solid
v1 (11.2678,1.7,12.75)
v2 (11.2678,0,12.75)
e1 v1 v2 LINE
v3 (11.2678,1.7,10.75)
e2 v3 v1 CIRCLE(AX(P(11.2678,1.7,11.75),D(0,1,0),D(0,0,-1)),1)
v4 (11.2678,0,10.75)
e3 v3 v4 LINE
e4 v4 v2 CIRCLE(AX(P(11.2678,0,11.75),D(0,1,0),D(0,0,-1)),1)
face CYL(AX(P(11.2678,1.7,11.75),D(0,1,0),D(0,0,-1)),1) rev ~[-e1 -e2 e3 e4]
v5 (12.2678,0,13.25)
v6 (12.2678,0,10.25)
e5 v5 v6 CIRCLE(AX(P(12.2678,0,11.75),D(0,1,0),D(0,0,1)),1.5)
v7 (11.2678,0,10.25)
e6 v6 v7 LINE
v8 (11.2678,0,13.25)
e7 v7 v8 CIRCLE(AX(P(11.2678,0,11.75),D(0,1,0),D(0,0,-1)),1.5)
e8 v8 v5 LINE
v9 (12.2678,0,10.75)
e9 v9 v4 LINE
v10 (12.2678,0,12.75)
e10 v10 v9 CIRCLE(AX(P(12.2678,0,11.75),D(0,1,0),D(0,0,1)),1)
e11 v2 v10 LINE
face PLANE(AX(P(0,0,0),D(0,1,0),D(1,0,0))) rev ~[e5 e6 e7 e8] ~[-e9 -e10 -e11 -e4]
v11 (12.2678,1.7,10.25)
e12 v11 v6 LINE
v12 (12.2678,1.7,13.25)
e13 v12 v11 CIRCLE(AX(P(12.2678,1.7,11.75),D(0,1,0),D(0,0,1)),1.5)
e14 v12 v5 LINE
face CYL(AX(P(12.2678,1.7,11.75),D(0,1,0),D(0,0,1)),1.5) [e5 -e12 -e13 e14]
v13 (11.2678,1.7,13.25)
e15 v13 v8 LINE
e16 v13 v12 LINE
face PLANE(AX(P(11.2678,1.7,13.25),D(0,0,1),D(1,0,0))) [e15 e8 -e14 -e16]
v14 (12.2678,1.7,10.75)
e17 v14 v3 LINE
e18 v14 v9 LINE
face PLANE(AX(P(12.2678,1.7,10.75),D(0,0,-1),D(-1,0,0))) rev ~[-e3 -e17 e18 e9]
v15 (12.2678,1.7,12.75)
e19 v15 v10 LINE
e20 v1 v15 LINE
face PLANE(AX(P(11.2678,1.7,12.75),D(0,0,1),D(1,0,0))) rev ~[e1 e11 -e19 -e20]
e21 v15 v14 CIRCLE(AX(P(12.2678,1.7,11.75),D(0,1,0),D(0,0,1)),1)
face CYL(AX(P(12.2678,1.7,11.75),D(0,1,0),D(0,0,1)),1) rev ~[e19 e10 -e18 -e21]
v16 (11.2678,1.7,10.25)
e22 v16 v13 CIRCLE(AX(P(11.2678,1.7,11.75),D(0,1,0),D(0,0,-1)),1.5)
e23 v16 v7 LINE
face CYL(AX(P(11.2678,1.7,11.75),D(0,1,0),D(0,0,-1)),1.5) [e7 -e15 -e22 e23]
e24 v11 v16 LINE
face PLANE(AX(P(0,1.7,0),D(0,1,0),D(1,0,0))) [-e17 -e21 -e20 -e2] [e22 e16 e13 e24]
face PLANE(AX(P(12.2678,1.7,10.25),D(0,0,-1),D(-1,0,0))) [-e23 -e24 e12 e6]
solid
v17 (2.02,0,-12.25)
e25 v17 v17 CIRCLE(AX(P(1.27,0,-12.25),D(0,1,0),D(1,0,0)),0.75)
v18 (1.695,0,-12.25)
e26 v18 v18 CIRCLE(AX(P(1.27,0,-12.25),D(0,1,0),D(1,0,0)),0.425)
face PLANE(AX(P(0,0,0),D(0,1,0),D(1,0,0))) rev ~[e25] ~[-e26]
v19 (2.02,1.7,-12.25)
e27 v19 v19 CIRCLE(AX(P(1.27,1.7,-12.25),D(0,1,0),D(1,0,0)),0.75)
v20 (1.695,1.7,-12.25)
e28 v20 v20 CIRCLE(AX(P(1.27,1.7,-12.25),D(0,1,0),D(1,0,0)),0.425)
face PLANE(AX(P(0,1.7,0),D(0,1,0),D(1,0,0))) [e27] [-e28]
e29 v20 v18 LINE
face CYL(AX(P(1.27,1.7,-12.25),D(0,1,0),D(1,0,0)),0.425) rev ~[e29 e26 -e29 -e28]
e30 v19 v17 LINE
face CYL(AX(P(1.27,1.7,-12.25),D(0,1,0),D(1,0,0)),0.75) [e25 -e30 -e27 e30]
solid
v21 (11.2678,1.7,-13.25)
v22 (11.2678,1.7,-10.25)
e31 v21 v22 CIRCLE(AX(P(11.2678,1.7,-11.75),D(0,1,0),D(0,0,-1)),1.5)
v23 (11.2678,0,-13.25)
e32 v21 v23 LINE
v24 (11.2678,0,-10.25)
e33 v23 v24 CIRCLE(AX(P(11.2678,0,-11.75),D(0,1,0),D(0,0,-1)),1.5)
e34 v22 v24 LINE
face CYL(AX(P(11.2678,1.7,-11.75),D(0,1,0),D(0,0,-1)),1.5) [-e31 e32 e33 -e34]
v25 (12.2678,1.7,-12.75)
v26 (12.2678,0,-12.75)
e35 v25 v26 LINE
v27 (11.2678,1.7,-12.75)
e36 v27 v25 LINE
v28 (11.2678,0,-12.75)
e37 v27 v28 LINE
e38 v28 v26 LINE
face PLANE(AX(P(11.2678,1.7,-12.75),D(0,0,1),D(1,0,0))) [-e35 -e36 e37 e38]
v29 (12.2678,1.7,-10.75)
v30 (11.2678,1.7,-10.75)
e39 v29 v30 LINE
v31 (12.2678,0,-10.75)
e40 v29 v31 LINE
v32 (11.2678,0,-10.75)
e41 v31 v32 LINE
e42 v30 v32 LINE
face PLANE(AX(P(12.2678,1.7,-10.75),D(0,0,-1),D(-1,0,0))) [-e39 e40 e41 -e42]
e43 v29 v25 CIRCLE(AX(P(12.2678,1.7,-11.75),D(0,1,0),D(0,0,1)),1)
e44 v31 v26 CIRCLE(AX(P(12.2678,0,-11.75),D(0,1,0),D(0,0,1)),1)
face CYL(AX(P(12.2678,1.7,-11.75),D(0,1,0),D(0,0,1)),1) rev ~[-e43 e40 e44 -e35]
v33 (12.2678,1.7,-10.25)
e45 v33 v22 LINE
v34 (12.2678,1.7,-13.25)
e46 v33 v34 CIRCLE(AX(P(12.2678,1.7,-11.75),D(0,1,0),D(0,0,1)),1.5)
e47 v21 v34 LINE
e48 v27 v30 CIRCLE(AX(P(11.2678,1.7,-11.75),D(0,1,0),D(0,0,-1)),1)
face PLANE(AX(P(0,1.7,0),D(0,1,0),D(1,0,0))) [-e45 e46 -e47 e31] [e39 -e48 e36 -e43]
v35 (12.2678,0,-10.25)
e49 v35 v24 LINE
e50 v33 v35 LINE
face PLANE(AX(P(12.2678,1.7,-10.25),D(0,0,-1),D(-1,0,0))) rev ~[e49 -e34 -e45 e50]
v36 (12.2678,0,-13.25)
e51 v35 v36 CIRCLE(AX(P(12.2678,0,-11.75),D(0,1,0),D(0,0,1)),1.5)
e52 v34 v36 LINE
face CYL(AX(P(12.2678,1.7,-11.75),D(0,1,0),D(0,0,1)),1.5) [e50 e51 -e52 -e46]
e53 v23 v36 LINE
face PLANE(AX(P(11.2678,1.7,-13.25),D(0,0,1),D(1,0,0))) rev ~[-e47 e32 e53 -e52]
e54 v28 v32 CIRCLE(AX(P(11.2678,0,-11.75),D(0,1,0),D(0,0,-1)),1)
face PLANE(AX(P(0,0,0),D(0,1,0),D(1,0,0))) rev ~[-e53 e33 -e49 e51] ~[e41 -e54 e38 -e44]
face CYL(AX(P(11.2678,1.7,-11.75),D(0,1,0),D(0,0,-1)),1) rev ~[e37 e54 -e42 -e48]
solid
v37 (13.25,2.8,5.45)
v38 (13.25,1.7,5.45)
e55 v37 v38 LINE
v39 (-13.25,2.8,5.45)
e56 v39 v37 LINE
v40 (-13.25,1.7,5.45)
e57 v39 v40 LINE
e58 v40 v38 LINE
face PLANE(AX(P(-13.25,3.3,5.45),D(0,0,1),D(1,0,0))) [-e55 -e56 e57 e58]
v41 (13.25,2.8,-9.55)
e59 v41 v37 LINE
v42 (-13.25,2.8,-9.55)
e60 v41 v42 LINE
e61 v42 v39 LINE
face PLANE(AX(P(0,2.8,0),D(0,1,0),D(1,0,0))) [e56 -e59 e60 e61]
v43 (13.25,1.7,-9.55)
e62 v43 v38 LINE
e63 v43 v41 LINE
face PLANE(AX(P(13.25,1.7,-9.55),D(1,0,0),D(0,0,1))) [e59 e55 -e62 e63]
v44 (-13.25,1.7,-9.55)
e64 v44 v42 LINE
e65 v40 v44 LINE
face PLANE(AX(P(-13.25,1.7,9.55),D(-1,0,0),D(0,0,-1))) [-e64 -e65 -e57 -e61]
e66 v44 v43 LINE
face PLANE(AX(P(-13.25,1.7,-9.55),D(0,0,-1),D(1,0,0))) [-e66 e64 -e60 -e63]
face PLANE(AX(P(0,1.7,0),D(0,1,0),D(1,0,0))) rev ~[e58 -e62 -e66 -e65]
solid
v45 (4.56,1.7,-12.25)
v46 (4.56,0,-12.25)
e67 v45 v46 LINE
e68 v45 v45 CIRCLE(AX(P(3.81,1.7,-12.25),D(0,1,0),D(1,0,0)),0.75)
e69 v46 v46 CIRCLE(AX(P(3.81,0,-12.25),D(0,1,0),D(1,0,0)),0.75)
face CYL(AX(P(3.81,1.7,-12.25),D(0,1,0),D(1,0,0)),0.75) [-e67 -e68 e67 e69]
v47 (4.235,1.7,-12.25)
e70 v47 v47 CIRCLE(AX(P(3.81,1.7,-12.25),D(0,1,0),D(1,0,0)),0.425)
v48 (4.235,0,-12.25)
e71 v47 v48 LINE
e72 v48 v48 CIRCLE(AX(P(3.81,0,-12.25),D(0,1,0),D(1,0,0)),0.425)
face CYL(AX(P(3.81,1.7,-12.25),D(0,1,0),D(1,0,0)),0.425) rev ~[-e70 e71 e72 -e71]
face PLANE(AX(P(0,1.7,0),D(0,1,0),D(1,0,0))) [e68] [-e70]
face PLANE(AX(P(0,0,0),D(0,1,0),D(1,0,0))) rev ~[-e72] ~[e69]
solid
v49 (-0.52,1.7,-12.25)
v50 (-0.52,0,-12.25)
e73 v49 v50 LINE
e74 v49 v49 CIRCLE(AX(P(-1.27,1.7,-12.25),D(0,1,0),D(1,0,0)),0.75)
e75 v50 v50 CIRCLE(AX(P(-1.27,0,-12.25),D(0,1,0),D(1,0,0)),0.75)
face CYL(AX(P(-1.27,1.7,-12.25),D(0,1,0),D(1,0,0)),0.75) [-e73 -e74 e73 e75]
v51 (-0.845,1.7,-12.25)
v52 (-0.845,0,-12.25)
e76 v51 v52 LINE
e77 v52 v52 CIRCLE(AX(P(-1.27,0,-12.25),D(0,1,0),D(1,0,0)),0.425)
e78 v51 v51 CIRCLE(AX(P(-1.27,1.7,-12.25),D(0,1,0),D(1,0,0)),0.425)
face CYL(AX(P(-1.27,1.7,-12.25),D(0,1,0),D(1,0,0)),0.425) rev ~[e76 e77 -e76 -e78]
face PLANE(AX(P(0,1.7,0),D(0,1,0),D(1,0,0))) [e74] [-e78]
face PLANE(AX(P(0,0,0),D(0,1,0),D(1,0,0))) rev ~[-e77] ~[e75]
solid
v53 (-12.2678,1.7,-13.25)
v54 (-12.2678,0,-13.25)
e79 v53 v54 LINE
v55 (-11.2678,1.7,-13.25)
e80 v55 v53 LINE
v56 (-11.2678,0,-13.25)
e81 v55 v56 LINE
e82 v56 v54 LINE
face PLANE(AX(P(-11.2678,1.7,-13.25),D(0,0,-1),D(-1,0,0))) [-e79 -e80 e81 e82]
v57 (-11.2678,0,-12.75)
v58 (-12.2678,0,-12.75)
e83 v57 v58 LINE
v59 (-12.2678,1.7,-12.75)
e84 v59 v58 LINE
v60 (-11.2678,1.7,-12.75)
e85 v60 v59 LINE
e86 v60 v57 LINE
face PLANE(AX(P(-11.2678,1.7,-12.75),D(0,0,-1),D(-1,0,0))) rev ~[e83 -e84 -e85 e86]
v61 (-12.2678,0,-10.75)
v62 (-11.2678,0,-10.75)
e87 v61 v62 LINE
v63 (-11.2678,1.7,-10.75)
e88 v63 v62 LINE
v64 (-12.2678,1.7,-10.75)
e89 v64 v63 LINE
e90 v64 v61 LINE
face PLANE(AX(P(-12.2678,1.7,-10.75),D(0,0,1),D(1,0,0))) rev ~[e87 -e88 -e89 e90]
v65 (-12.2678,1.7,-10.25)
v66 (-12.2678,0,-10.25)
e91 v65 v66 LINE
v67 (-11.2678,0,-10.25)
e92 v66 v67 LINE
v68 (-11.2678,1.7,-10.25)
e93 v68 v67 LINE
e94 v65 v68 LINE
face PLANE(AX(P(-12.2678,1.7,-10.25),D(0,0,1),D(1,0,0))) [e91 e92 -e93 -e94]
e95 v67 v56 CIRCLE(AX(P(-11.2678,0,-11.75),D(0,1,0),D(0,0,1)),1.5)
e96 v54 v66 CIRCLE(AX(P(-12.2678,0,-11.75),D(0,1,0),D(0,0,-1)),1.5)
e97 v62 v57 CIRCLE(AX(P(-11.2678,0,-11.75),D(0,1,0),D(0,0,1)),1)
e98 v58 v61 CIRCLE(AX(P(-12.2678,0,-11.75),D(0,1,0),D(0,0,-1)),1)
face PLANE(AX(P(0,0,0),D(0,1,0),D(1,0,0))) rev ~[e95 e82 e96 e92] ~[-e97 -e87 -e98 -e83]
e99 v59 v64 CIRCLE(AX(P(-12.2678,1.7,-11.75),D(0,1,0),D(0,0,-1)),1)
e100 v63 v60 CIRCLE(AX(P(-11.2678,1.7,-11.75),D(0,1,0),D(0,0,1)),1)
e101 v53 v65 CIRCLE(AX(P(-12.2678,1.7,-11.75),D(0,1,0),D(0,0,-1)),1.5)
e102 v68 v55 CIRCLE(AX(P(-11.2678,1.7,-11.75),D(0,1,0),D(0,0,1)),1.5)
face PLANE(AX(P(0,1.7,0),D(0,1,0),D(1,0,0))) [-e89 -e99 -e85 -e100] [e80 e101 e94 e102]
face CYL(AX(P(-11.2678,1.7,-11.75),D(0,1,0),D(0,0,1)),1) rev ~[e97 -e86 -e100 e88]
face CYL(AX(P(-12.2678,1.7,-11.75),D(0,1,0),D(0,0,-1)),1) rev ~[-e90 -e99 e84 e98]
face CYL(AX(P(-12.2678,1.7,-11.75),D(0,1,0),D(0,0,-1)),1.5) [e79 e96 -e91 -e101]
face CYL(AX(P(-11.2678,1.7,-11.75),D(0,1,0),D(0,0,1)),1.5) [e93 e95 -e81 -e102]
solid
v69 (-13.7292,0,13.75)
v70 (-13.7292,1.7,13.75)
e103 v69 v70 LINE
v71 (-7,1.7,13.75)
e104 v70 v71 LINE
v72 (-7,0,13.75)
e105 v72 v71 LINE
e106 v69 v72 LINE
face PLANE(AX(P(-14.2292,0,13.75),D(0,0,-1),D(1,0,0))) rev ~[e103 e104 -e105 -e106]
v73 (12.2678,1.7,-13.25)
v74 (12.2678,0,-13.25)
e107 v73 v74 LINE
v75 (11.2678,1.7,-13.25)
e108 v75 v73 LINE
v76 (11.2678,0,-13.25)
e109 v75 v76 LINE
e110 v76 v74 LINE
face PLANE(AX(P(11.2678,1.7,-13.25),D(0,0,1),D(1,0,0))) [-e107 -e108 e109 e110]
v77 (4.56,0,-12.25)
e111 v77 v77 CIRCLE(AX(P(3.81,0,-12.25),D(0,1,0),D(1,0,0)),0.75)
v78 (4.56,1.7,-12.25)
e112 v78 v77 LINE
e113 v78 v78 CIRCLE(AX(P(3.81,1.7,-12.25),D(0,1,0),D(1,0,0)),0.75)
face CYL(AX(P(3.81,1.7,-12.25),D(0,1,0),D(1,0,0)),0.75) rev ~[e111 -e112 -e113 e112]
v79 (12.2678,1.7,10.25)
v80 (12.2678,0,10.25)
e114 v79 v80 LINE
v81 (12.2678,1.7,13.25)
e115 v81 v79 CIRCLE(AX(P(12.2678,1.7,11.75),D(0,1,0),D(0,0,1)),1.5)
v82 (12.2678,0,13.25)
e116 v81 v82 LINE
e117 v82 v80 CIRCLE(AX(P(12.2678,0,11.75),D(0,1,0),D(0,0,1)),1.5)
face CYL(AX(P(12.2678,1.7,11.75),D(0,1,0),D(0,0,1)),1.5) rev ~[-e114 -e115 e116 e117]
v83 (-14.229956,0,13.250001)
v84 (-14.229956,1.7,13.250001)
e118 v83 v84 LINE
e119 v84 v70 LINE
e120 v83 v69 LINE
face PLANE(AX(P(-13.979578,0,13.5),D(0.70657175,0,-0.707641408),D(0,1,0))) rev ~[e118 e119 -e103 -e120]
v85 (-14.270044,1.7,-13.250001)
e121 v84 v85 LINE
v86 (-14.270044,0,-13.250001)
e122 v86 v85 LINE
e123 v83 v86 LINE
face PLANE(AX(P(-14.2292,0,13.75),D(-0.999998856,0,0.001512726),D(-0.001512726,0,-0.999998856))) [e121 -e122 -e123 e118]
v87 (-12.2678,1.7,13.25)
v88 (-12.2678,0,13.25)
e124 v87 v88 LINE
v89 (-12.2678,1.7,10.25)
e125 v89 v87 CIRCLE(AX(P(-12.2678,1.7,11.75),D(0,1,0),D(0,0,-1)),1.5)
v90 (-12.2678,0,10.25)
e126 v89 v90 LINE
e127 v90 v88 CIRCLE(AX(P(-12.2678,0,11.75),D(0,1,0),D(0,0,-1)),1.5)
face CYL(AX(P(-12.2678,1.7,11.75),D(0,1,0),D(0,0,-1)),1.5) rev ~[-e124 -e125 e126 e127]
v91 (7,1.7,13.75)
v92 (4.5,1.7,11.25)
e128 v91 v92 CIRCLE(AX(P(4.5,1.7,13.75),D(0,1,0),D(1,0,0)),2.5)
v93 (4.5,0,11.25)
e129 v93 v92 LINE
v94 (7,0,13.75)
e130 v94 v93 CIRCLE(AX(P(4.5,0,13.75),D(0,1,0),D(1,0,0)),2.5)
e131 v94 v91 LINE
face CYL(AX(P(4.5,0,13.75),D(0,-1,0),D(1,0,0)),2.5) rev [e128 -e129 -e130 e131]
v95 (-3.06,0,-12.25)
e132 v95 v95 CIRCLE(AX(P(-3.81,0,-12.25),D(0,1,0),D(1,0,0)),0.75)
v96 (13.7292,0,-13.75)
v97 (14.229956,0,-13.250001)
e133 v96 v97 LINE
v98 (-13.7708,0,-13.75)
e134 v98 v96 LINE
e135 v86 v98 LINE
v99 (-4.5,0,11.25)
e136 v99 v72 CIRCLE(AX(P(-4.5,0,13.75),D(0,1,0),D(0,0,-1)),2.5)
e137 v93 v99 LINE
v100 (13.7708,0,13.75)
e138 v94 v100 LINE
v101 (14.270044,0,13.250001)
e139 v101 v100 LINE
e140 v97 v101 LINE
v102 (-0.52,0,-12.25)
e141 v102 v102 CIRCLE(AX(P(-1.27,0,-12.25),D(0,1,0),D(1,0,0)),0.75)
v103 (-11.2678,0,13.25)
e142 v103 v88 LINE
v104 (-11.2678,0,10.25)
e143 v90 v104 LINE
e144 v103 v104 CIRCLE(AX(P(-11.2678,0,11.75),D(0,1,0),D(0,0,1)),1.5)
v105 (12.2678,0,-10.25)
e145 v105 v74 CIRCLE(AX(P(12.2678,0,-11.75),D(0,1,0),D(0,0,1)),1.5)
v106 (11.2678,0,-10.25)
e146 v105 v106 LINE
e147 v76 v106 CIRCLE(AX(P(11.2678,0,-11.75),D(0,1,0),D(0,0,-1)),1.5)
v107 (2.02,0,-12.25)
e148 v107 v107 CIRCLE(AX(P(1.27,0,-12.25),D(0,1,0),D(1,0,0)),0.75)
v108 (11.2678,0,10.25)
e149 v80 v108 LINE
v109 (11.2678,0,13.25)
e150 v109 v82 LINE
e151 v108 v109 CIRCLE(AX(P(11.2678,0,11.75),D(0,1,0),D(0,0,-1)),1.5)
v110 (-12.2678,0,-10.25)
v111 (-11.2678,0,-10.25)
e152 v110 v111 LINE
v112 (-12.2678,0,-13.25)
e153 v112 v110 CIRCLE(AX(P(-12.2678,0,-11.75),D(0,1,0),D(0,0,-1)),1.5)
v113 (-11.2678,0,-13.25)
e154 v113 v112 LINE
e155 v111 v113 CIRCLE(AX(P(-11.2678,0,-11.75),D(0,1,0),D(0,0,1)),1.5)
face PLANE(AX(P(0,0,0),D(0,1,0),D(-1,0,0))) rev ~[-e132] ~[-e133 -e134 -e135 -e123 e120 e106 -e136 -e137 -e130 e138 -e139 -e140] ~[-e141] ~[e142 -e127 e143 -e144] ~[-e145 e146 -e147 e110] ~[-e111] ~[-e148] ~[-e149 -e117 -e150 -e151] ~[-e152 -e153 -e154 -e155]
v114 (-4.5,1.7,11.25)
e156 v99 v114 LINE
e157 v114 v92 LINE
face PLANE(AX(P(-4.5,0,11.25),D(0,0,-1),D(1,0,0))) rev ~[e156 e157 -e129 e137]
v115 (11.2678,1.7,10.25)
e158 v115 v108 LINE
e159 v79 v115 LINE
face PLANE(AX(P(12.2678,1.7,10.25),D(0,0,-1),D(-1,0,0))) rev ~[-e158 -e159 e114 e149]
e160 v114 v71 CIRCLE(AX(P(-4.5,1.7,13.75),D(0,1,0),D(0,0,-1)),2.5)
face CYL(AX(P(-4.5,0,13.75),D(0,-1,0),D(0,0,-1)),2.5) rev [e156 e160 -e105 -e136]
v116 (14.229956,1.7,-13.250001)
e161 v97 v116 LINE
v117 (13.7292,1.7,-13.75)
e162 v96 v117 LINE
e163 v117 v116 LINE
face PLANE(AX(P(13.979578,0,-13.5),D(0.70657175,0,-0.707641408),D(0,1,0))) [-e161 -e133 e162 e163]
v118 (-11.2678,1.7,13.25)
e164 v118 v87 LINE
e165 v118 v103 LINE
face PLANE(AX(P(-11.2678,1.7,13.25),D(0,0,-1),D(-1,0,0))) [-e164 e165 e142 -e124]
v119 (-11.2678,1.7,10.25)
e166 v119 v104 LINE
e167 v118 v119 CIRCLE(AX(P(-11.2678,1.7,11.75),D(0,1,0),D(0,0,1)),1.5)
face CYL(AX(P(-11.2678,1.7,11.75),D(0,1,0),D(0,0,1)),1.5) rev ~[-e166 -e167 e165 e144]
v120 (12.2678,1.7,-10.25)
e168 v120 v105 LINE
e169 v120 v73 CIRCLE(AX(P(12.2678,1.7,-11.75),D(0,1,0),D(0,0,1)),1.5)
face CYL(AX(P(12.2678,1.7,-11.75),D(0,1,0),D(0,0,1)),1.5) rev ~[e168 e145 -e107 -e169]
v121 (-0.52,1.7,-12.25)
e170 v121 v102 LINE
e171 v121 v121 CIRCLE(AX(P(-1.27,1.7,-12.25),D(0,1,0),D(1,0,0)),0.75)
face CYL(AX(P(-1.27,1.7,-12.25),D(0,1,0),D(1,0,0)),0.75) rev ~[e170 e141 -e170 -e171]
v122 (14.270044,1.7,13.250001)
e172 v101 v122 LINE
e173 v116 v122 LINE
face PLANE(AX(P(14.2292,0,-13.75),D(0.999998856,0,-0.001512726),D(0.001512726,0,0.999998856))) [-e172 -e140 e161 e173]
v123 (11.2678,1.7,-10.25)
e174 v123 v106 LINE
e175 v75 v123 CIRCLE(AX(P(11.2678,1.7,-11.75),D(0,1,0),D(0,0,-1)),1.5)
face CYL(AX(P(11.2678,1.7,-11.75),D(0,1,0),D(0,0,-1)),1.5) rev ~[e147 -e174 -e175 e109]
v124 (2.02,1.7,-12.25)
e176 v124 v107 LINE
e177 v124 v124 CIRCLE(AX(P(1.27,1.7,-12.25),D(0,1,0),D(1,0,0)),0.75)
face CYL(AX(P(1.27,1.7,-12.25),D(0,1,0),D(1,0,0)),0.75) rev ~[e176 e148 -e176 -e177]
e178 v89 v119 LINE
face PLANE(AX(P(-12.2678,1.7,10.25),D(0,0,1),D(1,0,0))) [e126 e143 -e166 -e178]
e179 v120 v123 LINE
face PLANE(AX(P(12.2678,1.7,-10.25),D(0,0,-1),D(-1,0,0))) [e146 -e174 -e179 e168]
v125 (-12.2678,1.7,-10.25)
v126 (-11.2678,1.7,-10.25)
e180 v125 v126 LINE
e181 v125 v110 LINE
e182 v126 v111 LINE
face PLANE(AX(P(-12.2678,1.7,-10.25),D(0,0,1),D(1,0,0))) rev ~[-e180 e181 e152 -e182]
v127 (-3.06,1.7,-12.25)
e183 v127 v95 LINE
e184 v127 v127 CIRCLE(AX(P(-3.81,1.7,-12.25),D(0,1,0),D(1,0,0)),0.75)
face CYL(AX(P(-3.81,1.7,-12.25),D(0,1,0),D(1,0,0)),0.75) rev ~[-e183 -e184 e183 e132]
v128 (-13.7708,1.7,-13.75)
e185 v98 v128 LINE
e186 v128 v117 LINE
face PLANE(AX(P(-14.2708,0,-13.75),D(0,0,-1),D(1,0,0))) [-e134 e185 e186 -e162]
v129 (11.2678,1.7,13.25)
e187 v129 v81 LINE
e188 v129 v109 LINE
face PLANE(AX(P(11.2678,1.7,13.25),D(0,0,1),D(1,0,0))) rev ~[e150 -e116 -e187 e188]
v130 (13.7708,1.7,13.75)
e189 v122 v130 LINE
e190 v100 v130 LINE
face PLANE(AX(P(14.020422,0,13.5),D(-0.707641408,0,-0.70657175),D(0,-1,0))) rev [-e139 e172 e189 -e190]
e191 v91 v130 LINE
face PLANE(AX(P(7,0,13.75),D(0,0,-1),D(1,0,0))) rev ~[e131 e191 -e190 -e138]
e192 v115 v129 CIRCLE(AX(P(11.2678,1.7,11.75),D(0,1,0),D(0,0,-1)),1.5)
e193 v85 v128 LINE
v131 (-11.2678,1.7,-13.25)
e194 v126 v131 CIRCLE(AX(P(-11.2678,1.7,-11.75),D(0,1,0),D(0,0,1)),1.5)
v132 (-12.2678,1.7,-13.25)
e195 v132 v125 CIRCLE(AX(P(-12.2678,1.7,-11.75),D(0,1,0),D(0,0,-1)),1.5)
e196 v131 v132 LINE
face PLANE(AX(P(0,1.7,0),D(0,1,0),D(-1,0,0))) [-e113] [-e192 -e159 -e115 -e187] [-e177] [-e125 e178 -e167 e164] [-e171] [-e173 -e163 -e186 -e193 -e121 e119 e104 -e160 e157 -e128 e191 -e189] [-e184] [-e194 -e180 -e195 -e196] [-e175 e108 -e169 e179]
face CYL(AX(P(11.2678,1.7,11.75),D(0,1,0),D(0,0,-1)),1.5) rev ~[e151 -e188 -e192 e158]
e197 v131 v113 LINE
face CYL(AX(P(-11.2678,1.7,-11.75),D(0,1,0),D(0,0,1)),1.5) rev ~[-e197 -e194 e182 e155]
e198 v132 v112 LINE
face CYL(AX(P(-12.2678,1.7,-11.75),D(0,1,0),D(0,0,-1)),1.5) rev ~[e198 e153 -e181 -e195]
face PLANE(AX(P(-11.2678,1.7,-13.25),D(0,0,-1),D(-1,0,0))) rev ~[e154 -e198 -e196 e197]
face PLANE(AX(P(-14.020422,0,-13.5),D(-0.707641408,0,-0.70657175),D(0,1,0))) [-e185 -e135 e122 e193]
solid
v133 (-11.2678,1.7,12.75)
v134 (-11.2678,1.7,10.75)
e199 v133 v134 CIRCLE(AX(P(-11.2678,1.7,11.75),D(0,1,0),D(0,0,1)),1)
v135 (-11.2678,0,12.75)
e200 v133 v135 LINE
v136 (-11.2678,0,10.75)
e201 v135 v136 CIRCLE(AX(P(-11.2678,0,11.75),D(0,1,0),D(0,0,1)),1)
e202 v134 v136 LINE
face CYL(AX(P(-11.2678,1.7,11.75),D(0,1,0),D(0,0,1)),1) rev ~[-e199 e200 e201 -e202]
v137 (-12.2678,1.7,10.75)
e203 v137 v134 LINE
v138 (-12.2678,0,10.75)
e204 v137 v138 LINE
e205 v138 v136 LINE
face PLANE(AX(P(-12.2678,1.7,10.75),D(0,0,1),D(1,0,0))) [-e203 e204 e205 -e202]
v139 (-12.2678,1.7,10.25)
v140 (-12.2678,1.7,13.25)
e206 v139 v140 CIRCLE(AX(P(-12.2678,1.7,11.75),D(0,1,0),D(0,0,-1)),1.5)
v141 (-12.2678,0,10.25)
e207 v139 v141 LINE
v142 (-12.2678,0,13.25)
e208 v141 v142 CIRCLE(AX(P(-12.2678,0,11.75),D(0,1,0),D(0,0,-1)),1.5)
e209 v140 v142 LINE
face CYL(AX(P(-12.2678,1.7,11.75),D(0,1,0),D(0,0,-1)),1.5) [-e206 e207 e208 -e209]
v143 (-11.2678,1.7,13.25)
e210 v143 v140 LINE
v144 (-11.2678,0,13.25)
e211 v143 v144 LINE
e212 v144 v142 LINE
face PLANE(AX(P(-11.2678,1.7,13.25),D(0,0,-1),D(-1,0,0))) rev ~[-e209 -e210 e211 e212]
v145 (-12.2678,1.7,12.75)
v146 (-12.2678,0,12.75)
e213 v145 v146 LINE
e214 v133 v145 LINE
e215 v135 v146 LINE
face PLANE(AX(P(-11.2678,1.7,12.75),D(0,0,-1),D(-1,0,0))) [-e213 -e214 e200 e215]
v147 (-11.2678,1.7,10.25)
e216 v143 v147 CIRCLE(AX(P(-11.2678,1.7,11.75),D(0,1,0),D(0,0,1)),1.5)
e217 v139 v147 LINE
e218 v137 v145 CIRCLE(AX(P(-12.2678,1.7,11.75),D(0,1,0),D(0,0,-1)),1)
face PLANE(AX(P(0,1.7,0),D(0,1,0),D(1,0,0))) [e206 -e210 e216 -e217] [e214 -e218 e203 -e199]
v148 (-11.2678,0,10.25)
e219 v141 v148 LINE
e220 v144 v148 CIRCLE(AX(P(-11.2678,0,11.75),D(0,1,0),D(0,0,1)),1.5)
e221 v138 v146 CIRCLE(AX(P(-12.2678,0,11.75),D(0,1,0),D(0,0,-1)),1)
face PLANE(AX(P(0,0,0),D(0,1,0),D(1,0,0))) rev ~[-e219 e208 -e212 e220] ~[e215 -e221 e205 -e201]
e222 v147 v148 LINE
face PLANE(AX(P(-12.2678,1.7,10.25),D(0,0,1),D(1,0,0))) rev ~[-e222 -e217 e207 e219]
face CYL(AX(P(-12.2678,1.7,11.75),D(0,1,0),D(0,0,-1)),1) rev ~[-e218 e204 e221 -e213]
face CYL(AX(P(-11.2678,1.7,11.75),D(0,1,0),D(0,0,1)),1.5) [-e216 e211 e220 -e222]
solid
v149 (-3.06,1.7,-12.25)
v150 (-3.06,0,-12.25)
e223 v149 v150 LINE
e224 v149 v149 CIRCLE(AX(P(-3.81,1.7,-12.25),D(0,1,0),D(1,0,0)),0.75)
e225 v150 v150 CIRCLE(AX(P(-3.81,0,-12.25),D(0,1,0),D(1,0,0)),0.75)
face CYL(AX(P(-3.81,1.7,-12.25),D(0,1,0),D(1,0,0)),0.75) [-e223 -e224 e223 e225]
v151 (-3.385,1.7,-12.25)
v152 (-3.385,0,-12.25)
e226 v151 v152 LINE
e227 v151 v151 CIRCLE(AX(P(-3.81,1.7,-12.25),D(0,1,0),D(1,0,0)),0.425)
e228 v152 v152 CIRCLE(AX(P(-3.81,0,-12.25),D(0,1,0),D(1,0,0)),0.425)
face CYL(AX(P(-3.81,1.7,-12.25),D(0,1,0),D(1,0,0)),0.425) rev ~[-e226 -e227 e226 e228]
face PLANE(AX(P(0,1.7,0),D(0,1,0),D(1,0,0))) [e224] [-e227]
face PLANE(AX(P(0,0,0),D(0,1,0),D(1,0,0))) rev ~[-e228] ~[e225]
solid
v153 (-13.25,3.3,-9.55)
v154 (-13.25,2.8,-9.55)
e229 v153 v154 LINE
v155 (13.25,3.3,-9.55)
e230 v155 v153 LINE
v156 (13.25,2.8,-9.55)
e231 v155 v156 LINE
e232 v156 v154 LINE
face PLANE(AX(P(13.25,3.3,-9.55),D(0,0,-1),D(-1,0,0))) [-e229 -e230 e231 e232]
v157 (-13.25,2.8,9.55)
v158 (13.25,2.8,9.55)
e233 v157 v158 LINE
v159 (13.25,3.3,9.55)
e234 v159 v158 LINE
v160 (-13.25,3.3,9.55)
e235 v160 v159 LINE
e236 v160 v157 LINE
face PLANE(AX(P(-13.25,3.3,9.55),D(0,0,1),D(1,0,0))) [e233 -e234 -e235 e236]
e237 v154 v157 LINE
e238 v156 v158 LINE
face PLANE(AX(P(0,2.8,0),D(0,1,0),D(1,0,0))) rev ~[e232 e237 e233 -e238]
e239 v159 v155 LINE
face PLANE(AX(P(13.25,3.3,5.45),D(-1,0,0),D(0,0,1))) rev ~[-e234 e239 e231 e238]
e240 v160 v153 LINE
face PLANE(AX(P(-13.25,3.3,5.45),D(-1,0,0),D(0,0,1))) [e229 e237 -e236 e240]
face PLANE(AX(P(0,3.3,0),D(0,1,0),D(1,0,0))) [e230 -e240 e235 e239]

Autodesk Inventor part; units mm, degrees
ref_plane "YZ Plane" through (0, 0, 0) normal (1, 0, 0) x (0, 1, 0)
ref_plane "XZ Plane" through (0, 0, 0) normal (0, 1, 0) x (-1, 0, 0)
ref_plane "XY Plane" through (0, 0, 0) normal (0, 0, 1) x (1, 0, 0)
sketch "Sketch1" plane through (0, 0, 0) normal (0, 1, 0) x (-1, 0, 0)
  line L0 (14.2292, 13.75) -> (14.2708, -13.75)
  line L1 (14.2708, -13.75) -> (-14.2292, -13.75)
  line L2 (-14.2292, -13.75) -> (-14.2708, 13.75)
  line L3 (-14.2708, 13.75) -> (14.2708, -13.75) construction
  line L4 (14.2292, 13.75) -> (-14.2292, -13.75) construction
  line L5 (14.2292, 13.75) -> (7, 13.75)
  line L6 (4.5, 11.25) -> (-4.5, 11.25)
  line L7 (-7, 13.75) -> (-14.2708, 13.75)
  arc A0 (-7, 13.75) -> (-4.5, 11.25) centre (-4.5, 13.75) ccw
  arc A1 (4.5, 11.25) -> (7, 13.75) centre (4.5, 13.75) ccw
  line L8 (0, 0) -> (0, -4.4345)
  line L9 (0, 11.25) -> (0, 7.5255)
  dimension "d0" = 28.5
  dimension "d1" = 27.5
  dimension "d2" = 2.5
  dimension "d3" = 14
extrude "Extrusion1" add sketch "Sketch1" along normal blind 1.7
chamfer "Chamfer1" distance 0.5 angle 45 4 edges at (14.2708, 0.85, 13.75) (-14.2292, 0.85, 13.75) (14.2292, 0.85, -13.75) (-14.2708, 0.85, -13.75)
sketch "Sketch2" plane through (0, 1.7, 0) normal (0, 1, 0) x (1, 0, 0)
  line L0 (-13.2678, 11.75) -> (-10.2678, 11.75) construction
  line L1 (-12.2678, 10.75) -> (-11.2678, 10.75)
  line L2 (-11.2678, 12.75) -> (-12.2678, 12.75)
  arc A0 (-12.2678, 12.75) -> (-12.2678, 10.75) centre (-12.2678, 11.75) ccw
  arc A1 (-11.2678, 10.75) -> (-11.2678, 12.75) centre (-11.2678, 11.75) ccw
  line L3 (-11.2678, 13.25) -> (-12.2678, 13.25)
  arc A2 (-12.2678, 13.25) -> (-12.2678, 10.25) centre (-12.2678, 11.75) ccw
  line L4 (-12.2678, 10.25) -> (-11.2678, 10.25)
  arc A3 (-11.2678, 10.25) -> (-11.2678, 13.25) centre (-11.2678, 11.75) ccw
  line L5 (13.7292, 13.75) -> (-13.7708, 13.75) projected
  line L6 (-14.2701, 13.25) -> (-14.2299, -13.25) projected
  line L7 (0, 0) -> (-2.3297, 0)
  line L8 (0, 0) -> (0, 4.8141)
  line L9 (13.2678, 11.75) -> (10.2678, 11.75) construction
  line L10 (12.2678, 10.75) -> (11.2678, 10.75)
  line L11 (11.2678, 12.75) -> (12.2678, 12.75)
  arc A4 (12.2678, 10.75) -> (12.2678, 12.75) centre (12.2678, 11.75) ccw
  arc A5 (11.2678, 12.75) -> (11.2678, 10.75) centre (11.2678, 11.75) ccw
  line L12 (11.2678, 13.25) -> (12.2678, 13.25)
  arc A6 (12.2678, 10.25) -> (12.2678, 13.25) centre (12.2678, 11.75) ccw
  line L13 (12.2678, 10.25) -> (11.2678, 10.25)
  arc A7 (11.2678, 13.25) -> (11.2678, 10.25) centre (11.2678, 11.75) ccw
  line L14 (-13.2678, -11.75) -> (-10.2678, -11.75) construction
  line L15 (-12.2678, -10.75) -> (-11.2678, -10.75)
  line L16 (-11.2678, -12.75) -> (-12.2678, -12.75)
  arc A8 (-12.2678, -10.75) -> (-12.2678, -12.75) centre (-12.2678, -11.75) ccw
  arc A9 (-11.2678, -12.75) -> (-11.2678, -10.75) centre (-11.2678, -11.75) ccw
  line L17 (-11.2678, -13.25) -> (-12.2678, -13.25)
  arc A10 (-12.2678, -10.25) -> (-12.2678, -13.25) centre (-12.2678, -11.75) ccw
  line L18 (-12.2678, -10.25) -> (-11.2678, -10.25)
  arc A11 (-11.2678, -13.25) -> (-11.2678, -10.25) centre (-11.2678, -11.75) ccw
  line L19 (12.2678, -10.25) -> (11.2678, -10.25)
  line L20 (12.2678, -10.75) -> (11.2678, -10.75)
  line L21 (11.2678, -12.75) -> (12.2678, -12.75)
  arc A12 (12.2678, -12.75) -> (12.2678, -10.75) centre (12.2678, -11.75) ccw
  arc A13 (11.2678, -10.75) -> (11.2678, -12.75) centre (11.2678, -11.75) ccw
  arc A14 (11.2678, -10.25) -> (11.2678, -13.25) centre (11.2678, -11.75) ccw
  arc A15 (12.2678, -13.25) -> (12.2678, -10.25) centre (12.2678, -11.75) ccw
  line L22 (11.2678, -13.25) -> (12.2678, -13.25)
  line L23 (13.2678, -11.75) -> (10.2678, -11.75) construction
  circle A16 centre (-3.81, 12.25) radius 0.75
  circle A17 centre (-1.27, 12.25) radius 0.75
  circle A18 centre (1.27, 12.25) radius 0.75
  circle A19 centre (3.81, 12.25) radius 0.75
  circle A20 centre (-3.81, 12.25) radius 0.425
  circle A21 centre (-1.27, 12.25) radius 0.425
  circle A22 centre (1.27, 12.25) radius 0.425
  circle A23 centre (3.81, 12.25) radius 0.425
  point P0 (-11.7678, 11.75)
  point P1 (11.7678, 11.75)
  point P2 (-11.7678, -11.75)
  point P3 (11.7678, -11.75)
  dimension "d9" = 3
  dimension "d10" = 2
  dimension "d11" = 0.5
  dimension "d12" = 0.5
  dimension "d13" = 2
  dimension "d22" = 2.54
  dimension "d23" = 2.54
  dimension "d24" = 2.54
  dimension "d25" = 1.5
  dimension "d26" = 0.85
  dimension "d27" = 1.5
extrude "Extrusion2" cut sketch "Sketch2" against normal through all contours A0 L2 A1 L1 | A3 L4 A2 L3 | L10 A5 L11 A4 | L12 A6 L13 A7 | L15 A9 L16 A8 | L17 A10 L18 A11 | A15 L22 A14 L19 | A12 L21 A13 L20 | A16 | A17 | A18 | A19 | A20 | A21 | A22 | A23
extrude "Extrusion3" add sketch "Sketch2" against normal up to surface (1.7 mm away) separate body
sketch "Sketch3" plane through (0, 1.7, 0) normal (0, 1, 0) x (1, 0, 0)
  line L0 (-13.25, 9.55) -> (13.25, 9.55)
  line L1 (13.25, 9.55) -> (13.25, -9.55)
  line L2 (13.25, -9.55) -> (-13.25, -9.55)
  line L3 (-13.25, -9.55) -> (-13.25, 9.55)
  line L4 (-13.25, 9.55) -> (13.25, -9.55) construction
  line L5 (13.25, 9.55) -> (-13.25, -9.55) construction
  point P0 (0, 0)
  point P1 (0, 0)
  point P2 (0, 0)
  point P3 (0, 0)
  dimension "d18" = 19.1
  dimension "d19" = 26.5
extrude "Extrusion4" add sketch "Sketch3" along normal blind 1.6 separate body
sketch "Sketch4" plane through (0, 3.3, 0) normal (0, 1, 0) x (1, 0, 0)
  line L0 (-13.25, -9.55) -> (13.25, -9.55) projected
  line L1 (-13.25, 9.55) -> (-13.25, -9.55) projected
  line L2 (13.25, -9.55) -> (-13.25, -9.55)
  line L3 (-13.25, -9.55) -> (-13.25, -5.45)
  line L4 (-13.25, -5.45) -> (13.25, -5.45)
  line L5 (13.25, -5.45) -> (13.25, -9.55)
  line L6 (13.25, 9.55) -> (-13.25, 9.55) projected
  line L7 (13.25, -9.55) -> (-13.25, -9.55)
  line L8 (-13.25, -9.55) -> (-13.25, 9.55)
  line L9 (-13.25, 9.55) -> (13.25, 9.55)
  line L10 (13.25, 9.55) -> (13.25, -9.55)
  point P0 (0, 0)
  dimension "d28" = 15
extrude "Extrusion5" cut sketch "Sketch4" against normal up to surface (1.6 mm away) contours L1 L4 L5 L0 bodies 3
extrude "Extrusion6" cut sketch "Sketch4" against normal blind 0.5 contours L1 L6 L10 L4 bodies 3
extrude "Extrusion7" add sketch "Sketch4" against normal blind 0.5 separate body
properties part number "SSD1306" material "PMMA Plastic"
